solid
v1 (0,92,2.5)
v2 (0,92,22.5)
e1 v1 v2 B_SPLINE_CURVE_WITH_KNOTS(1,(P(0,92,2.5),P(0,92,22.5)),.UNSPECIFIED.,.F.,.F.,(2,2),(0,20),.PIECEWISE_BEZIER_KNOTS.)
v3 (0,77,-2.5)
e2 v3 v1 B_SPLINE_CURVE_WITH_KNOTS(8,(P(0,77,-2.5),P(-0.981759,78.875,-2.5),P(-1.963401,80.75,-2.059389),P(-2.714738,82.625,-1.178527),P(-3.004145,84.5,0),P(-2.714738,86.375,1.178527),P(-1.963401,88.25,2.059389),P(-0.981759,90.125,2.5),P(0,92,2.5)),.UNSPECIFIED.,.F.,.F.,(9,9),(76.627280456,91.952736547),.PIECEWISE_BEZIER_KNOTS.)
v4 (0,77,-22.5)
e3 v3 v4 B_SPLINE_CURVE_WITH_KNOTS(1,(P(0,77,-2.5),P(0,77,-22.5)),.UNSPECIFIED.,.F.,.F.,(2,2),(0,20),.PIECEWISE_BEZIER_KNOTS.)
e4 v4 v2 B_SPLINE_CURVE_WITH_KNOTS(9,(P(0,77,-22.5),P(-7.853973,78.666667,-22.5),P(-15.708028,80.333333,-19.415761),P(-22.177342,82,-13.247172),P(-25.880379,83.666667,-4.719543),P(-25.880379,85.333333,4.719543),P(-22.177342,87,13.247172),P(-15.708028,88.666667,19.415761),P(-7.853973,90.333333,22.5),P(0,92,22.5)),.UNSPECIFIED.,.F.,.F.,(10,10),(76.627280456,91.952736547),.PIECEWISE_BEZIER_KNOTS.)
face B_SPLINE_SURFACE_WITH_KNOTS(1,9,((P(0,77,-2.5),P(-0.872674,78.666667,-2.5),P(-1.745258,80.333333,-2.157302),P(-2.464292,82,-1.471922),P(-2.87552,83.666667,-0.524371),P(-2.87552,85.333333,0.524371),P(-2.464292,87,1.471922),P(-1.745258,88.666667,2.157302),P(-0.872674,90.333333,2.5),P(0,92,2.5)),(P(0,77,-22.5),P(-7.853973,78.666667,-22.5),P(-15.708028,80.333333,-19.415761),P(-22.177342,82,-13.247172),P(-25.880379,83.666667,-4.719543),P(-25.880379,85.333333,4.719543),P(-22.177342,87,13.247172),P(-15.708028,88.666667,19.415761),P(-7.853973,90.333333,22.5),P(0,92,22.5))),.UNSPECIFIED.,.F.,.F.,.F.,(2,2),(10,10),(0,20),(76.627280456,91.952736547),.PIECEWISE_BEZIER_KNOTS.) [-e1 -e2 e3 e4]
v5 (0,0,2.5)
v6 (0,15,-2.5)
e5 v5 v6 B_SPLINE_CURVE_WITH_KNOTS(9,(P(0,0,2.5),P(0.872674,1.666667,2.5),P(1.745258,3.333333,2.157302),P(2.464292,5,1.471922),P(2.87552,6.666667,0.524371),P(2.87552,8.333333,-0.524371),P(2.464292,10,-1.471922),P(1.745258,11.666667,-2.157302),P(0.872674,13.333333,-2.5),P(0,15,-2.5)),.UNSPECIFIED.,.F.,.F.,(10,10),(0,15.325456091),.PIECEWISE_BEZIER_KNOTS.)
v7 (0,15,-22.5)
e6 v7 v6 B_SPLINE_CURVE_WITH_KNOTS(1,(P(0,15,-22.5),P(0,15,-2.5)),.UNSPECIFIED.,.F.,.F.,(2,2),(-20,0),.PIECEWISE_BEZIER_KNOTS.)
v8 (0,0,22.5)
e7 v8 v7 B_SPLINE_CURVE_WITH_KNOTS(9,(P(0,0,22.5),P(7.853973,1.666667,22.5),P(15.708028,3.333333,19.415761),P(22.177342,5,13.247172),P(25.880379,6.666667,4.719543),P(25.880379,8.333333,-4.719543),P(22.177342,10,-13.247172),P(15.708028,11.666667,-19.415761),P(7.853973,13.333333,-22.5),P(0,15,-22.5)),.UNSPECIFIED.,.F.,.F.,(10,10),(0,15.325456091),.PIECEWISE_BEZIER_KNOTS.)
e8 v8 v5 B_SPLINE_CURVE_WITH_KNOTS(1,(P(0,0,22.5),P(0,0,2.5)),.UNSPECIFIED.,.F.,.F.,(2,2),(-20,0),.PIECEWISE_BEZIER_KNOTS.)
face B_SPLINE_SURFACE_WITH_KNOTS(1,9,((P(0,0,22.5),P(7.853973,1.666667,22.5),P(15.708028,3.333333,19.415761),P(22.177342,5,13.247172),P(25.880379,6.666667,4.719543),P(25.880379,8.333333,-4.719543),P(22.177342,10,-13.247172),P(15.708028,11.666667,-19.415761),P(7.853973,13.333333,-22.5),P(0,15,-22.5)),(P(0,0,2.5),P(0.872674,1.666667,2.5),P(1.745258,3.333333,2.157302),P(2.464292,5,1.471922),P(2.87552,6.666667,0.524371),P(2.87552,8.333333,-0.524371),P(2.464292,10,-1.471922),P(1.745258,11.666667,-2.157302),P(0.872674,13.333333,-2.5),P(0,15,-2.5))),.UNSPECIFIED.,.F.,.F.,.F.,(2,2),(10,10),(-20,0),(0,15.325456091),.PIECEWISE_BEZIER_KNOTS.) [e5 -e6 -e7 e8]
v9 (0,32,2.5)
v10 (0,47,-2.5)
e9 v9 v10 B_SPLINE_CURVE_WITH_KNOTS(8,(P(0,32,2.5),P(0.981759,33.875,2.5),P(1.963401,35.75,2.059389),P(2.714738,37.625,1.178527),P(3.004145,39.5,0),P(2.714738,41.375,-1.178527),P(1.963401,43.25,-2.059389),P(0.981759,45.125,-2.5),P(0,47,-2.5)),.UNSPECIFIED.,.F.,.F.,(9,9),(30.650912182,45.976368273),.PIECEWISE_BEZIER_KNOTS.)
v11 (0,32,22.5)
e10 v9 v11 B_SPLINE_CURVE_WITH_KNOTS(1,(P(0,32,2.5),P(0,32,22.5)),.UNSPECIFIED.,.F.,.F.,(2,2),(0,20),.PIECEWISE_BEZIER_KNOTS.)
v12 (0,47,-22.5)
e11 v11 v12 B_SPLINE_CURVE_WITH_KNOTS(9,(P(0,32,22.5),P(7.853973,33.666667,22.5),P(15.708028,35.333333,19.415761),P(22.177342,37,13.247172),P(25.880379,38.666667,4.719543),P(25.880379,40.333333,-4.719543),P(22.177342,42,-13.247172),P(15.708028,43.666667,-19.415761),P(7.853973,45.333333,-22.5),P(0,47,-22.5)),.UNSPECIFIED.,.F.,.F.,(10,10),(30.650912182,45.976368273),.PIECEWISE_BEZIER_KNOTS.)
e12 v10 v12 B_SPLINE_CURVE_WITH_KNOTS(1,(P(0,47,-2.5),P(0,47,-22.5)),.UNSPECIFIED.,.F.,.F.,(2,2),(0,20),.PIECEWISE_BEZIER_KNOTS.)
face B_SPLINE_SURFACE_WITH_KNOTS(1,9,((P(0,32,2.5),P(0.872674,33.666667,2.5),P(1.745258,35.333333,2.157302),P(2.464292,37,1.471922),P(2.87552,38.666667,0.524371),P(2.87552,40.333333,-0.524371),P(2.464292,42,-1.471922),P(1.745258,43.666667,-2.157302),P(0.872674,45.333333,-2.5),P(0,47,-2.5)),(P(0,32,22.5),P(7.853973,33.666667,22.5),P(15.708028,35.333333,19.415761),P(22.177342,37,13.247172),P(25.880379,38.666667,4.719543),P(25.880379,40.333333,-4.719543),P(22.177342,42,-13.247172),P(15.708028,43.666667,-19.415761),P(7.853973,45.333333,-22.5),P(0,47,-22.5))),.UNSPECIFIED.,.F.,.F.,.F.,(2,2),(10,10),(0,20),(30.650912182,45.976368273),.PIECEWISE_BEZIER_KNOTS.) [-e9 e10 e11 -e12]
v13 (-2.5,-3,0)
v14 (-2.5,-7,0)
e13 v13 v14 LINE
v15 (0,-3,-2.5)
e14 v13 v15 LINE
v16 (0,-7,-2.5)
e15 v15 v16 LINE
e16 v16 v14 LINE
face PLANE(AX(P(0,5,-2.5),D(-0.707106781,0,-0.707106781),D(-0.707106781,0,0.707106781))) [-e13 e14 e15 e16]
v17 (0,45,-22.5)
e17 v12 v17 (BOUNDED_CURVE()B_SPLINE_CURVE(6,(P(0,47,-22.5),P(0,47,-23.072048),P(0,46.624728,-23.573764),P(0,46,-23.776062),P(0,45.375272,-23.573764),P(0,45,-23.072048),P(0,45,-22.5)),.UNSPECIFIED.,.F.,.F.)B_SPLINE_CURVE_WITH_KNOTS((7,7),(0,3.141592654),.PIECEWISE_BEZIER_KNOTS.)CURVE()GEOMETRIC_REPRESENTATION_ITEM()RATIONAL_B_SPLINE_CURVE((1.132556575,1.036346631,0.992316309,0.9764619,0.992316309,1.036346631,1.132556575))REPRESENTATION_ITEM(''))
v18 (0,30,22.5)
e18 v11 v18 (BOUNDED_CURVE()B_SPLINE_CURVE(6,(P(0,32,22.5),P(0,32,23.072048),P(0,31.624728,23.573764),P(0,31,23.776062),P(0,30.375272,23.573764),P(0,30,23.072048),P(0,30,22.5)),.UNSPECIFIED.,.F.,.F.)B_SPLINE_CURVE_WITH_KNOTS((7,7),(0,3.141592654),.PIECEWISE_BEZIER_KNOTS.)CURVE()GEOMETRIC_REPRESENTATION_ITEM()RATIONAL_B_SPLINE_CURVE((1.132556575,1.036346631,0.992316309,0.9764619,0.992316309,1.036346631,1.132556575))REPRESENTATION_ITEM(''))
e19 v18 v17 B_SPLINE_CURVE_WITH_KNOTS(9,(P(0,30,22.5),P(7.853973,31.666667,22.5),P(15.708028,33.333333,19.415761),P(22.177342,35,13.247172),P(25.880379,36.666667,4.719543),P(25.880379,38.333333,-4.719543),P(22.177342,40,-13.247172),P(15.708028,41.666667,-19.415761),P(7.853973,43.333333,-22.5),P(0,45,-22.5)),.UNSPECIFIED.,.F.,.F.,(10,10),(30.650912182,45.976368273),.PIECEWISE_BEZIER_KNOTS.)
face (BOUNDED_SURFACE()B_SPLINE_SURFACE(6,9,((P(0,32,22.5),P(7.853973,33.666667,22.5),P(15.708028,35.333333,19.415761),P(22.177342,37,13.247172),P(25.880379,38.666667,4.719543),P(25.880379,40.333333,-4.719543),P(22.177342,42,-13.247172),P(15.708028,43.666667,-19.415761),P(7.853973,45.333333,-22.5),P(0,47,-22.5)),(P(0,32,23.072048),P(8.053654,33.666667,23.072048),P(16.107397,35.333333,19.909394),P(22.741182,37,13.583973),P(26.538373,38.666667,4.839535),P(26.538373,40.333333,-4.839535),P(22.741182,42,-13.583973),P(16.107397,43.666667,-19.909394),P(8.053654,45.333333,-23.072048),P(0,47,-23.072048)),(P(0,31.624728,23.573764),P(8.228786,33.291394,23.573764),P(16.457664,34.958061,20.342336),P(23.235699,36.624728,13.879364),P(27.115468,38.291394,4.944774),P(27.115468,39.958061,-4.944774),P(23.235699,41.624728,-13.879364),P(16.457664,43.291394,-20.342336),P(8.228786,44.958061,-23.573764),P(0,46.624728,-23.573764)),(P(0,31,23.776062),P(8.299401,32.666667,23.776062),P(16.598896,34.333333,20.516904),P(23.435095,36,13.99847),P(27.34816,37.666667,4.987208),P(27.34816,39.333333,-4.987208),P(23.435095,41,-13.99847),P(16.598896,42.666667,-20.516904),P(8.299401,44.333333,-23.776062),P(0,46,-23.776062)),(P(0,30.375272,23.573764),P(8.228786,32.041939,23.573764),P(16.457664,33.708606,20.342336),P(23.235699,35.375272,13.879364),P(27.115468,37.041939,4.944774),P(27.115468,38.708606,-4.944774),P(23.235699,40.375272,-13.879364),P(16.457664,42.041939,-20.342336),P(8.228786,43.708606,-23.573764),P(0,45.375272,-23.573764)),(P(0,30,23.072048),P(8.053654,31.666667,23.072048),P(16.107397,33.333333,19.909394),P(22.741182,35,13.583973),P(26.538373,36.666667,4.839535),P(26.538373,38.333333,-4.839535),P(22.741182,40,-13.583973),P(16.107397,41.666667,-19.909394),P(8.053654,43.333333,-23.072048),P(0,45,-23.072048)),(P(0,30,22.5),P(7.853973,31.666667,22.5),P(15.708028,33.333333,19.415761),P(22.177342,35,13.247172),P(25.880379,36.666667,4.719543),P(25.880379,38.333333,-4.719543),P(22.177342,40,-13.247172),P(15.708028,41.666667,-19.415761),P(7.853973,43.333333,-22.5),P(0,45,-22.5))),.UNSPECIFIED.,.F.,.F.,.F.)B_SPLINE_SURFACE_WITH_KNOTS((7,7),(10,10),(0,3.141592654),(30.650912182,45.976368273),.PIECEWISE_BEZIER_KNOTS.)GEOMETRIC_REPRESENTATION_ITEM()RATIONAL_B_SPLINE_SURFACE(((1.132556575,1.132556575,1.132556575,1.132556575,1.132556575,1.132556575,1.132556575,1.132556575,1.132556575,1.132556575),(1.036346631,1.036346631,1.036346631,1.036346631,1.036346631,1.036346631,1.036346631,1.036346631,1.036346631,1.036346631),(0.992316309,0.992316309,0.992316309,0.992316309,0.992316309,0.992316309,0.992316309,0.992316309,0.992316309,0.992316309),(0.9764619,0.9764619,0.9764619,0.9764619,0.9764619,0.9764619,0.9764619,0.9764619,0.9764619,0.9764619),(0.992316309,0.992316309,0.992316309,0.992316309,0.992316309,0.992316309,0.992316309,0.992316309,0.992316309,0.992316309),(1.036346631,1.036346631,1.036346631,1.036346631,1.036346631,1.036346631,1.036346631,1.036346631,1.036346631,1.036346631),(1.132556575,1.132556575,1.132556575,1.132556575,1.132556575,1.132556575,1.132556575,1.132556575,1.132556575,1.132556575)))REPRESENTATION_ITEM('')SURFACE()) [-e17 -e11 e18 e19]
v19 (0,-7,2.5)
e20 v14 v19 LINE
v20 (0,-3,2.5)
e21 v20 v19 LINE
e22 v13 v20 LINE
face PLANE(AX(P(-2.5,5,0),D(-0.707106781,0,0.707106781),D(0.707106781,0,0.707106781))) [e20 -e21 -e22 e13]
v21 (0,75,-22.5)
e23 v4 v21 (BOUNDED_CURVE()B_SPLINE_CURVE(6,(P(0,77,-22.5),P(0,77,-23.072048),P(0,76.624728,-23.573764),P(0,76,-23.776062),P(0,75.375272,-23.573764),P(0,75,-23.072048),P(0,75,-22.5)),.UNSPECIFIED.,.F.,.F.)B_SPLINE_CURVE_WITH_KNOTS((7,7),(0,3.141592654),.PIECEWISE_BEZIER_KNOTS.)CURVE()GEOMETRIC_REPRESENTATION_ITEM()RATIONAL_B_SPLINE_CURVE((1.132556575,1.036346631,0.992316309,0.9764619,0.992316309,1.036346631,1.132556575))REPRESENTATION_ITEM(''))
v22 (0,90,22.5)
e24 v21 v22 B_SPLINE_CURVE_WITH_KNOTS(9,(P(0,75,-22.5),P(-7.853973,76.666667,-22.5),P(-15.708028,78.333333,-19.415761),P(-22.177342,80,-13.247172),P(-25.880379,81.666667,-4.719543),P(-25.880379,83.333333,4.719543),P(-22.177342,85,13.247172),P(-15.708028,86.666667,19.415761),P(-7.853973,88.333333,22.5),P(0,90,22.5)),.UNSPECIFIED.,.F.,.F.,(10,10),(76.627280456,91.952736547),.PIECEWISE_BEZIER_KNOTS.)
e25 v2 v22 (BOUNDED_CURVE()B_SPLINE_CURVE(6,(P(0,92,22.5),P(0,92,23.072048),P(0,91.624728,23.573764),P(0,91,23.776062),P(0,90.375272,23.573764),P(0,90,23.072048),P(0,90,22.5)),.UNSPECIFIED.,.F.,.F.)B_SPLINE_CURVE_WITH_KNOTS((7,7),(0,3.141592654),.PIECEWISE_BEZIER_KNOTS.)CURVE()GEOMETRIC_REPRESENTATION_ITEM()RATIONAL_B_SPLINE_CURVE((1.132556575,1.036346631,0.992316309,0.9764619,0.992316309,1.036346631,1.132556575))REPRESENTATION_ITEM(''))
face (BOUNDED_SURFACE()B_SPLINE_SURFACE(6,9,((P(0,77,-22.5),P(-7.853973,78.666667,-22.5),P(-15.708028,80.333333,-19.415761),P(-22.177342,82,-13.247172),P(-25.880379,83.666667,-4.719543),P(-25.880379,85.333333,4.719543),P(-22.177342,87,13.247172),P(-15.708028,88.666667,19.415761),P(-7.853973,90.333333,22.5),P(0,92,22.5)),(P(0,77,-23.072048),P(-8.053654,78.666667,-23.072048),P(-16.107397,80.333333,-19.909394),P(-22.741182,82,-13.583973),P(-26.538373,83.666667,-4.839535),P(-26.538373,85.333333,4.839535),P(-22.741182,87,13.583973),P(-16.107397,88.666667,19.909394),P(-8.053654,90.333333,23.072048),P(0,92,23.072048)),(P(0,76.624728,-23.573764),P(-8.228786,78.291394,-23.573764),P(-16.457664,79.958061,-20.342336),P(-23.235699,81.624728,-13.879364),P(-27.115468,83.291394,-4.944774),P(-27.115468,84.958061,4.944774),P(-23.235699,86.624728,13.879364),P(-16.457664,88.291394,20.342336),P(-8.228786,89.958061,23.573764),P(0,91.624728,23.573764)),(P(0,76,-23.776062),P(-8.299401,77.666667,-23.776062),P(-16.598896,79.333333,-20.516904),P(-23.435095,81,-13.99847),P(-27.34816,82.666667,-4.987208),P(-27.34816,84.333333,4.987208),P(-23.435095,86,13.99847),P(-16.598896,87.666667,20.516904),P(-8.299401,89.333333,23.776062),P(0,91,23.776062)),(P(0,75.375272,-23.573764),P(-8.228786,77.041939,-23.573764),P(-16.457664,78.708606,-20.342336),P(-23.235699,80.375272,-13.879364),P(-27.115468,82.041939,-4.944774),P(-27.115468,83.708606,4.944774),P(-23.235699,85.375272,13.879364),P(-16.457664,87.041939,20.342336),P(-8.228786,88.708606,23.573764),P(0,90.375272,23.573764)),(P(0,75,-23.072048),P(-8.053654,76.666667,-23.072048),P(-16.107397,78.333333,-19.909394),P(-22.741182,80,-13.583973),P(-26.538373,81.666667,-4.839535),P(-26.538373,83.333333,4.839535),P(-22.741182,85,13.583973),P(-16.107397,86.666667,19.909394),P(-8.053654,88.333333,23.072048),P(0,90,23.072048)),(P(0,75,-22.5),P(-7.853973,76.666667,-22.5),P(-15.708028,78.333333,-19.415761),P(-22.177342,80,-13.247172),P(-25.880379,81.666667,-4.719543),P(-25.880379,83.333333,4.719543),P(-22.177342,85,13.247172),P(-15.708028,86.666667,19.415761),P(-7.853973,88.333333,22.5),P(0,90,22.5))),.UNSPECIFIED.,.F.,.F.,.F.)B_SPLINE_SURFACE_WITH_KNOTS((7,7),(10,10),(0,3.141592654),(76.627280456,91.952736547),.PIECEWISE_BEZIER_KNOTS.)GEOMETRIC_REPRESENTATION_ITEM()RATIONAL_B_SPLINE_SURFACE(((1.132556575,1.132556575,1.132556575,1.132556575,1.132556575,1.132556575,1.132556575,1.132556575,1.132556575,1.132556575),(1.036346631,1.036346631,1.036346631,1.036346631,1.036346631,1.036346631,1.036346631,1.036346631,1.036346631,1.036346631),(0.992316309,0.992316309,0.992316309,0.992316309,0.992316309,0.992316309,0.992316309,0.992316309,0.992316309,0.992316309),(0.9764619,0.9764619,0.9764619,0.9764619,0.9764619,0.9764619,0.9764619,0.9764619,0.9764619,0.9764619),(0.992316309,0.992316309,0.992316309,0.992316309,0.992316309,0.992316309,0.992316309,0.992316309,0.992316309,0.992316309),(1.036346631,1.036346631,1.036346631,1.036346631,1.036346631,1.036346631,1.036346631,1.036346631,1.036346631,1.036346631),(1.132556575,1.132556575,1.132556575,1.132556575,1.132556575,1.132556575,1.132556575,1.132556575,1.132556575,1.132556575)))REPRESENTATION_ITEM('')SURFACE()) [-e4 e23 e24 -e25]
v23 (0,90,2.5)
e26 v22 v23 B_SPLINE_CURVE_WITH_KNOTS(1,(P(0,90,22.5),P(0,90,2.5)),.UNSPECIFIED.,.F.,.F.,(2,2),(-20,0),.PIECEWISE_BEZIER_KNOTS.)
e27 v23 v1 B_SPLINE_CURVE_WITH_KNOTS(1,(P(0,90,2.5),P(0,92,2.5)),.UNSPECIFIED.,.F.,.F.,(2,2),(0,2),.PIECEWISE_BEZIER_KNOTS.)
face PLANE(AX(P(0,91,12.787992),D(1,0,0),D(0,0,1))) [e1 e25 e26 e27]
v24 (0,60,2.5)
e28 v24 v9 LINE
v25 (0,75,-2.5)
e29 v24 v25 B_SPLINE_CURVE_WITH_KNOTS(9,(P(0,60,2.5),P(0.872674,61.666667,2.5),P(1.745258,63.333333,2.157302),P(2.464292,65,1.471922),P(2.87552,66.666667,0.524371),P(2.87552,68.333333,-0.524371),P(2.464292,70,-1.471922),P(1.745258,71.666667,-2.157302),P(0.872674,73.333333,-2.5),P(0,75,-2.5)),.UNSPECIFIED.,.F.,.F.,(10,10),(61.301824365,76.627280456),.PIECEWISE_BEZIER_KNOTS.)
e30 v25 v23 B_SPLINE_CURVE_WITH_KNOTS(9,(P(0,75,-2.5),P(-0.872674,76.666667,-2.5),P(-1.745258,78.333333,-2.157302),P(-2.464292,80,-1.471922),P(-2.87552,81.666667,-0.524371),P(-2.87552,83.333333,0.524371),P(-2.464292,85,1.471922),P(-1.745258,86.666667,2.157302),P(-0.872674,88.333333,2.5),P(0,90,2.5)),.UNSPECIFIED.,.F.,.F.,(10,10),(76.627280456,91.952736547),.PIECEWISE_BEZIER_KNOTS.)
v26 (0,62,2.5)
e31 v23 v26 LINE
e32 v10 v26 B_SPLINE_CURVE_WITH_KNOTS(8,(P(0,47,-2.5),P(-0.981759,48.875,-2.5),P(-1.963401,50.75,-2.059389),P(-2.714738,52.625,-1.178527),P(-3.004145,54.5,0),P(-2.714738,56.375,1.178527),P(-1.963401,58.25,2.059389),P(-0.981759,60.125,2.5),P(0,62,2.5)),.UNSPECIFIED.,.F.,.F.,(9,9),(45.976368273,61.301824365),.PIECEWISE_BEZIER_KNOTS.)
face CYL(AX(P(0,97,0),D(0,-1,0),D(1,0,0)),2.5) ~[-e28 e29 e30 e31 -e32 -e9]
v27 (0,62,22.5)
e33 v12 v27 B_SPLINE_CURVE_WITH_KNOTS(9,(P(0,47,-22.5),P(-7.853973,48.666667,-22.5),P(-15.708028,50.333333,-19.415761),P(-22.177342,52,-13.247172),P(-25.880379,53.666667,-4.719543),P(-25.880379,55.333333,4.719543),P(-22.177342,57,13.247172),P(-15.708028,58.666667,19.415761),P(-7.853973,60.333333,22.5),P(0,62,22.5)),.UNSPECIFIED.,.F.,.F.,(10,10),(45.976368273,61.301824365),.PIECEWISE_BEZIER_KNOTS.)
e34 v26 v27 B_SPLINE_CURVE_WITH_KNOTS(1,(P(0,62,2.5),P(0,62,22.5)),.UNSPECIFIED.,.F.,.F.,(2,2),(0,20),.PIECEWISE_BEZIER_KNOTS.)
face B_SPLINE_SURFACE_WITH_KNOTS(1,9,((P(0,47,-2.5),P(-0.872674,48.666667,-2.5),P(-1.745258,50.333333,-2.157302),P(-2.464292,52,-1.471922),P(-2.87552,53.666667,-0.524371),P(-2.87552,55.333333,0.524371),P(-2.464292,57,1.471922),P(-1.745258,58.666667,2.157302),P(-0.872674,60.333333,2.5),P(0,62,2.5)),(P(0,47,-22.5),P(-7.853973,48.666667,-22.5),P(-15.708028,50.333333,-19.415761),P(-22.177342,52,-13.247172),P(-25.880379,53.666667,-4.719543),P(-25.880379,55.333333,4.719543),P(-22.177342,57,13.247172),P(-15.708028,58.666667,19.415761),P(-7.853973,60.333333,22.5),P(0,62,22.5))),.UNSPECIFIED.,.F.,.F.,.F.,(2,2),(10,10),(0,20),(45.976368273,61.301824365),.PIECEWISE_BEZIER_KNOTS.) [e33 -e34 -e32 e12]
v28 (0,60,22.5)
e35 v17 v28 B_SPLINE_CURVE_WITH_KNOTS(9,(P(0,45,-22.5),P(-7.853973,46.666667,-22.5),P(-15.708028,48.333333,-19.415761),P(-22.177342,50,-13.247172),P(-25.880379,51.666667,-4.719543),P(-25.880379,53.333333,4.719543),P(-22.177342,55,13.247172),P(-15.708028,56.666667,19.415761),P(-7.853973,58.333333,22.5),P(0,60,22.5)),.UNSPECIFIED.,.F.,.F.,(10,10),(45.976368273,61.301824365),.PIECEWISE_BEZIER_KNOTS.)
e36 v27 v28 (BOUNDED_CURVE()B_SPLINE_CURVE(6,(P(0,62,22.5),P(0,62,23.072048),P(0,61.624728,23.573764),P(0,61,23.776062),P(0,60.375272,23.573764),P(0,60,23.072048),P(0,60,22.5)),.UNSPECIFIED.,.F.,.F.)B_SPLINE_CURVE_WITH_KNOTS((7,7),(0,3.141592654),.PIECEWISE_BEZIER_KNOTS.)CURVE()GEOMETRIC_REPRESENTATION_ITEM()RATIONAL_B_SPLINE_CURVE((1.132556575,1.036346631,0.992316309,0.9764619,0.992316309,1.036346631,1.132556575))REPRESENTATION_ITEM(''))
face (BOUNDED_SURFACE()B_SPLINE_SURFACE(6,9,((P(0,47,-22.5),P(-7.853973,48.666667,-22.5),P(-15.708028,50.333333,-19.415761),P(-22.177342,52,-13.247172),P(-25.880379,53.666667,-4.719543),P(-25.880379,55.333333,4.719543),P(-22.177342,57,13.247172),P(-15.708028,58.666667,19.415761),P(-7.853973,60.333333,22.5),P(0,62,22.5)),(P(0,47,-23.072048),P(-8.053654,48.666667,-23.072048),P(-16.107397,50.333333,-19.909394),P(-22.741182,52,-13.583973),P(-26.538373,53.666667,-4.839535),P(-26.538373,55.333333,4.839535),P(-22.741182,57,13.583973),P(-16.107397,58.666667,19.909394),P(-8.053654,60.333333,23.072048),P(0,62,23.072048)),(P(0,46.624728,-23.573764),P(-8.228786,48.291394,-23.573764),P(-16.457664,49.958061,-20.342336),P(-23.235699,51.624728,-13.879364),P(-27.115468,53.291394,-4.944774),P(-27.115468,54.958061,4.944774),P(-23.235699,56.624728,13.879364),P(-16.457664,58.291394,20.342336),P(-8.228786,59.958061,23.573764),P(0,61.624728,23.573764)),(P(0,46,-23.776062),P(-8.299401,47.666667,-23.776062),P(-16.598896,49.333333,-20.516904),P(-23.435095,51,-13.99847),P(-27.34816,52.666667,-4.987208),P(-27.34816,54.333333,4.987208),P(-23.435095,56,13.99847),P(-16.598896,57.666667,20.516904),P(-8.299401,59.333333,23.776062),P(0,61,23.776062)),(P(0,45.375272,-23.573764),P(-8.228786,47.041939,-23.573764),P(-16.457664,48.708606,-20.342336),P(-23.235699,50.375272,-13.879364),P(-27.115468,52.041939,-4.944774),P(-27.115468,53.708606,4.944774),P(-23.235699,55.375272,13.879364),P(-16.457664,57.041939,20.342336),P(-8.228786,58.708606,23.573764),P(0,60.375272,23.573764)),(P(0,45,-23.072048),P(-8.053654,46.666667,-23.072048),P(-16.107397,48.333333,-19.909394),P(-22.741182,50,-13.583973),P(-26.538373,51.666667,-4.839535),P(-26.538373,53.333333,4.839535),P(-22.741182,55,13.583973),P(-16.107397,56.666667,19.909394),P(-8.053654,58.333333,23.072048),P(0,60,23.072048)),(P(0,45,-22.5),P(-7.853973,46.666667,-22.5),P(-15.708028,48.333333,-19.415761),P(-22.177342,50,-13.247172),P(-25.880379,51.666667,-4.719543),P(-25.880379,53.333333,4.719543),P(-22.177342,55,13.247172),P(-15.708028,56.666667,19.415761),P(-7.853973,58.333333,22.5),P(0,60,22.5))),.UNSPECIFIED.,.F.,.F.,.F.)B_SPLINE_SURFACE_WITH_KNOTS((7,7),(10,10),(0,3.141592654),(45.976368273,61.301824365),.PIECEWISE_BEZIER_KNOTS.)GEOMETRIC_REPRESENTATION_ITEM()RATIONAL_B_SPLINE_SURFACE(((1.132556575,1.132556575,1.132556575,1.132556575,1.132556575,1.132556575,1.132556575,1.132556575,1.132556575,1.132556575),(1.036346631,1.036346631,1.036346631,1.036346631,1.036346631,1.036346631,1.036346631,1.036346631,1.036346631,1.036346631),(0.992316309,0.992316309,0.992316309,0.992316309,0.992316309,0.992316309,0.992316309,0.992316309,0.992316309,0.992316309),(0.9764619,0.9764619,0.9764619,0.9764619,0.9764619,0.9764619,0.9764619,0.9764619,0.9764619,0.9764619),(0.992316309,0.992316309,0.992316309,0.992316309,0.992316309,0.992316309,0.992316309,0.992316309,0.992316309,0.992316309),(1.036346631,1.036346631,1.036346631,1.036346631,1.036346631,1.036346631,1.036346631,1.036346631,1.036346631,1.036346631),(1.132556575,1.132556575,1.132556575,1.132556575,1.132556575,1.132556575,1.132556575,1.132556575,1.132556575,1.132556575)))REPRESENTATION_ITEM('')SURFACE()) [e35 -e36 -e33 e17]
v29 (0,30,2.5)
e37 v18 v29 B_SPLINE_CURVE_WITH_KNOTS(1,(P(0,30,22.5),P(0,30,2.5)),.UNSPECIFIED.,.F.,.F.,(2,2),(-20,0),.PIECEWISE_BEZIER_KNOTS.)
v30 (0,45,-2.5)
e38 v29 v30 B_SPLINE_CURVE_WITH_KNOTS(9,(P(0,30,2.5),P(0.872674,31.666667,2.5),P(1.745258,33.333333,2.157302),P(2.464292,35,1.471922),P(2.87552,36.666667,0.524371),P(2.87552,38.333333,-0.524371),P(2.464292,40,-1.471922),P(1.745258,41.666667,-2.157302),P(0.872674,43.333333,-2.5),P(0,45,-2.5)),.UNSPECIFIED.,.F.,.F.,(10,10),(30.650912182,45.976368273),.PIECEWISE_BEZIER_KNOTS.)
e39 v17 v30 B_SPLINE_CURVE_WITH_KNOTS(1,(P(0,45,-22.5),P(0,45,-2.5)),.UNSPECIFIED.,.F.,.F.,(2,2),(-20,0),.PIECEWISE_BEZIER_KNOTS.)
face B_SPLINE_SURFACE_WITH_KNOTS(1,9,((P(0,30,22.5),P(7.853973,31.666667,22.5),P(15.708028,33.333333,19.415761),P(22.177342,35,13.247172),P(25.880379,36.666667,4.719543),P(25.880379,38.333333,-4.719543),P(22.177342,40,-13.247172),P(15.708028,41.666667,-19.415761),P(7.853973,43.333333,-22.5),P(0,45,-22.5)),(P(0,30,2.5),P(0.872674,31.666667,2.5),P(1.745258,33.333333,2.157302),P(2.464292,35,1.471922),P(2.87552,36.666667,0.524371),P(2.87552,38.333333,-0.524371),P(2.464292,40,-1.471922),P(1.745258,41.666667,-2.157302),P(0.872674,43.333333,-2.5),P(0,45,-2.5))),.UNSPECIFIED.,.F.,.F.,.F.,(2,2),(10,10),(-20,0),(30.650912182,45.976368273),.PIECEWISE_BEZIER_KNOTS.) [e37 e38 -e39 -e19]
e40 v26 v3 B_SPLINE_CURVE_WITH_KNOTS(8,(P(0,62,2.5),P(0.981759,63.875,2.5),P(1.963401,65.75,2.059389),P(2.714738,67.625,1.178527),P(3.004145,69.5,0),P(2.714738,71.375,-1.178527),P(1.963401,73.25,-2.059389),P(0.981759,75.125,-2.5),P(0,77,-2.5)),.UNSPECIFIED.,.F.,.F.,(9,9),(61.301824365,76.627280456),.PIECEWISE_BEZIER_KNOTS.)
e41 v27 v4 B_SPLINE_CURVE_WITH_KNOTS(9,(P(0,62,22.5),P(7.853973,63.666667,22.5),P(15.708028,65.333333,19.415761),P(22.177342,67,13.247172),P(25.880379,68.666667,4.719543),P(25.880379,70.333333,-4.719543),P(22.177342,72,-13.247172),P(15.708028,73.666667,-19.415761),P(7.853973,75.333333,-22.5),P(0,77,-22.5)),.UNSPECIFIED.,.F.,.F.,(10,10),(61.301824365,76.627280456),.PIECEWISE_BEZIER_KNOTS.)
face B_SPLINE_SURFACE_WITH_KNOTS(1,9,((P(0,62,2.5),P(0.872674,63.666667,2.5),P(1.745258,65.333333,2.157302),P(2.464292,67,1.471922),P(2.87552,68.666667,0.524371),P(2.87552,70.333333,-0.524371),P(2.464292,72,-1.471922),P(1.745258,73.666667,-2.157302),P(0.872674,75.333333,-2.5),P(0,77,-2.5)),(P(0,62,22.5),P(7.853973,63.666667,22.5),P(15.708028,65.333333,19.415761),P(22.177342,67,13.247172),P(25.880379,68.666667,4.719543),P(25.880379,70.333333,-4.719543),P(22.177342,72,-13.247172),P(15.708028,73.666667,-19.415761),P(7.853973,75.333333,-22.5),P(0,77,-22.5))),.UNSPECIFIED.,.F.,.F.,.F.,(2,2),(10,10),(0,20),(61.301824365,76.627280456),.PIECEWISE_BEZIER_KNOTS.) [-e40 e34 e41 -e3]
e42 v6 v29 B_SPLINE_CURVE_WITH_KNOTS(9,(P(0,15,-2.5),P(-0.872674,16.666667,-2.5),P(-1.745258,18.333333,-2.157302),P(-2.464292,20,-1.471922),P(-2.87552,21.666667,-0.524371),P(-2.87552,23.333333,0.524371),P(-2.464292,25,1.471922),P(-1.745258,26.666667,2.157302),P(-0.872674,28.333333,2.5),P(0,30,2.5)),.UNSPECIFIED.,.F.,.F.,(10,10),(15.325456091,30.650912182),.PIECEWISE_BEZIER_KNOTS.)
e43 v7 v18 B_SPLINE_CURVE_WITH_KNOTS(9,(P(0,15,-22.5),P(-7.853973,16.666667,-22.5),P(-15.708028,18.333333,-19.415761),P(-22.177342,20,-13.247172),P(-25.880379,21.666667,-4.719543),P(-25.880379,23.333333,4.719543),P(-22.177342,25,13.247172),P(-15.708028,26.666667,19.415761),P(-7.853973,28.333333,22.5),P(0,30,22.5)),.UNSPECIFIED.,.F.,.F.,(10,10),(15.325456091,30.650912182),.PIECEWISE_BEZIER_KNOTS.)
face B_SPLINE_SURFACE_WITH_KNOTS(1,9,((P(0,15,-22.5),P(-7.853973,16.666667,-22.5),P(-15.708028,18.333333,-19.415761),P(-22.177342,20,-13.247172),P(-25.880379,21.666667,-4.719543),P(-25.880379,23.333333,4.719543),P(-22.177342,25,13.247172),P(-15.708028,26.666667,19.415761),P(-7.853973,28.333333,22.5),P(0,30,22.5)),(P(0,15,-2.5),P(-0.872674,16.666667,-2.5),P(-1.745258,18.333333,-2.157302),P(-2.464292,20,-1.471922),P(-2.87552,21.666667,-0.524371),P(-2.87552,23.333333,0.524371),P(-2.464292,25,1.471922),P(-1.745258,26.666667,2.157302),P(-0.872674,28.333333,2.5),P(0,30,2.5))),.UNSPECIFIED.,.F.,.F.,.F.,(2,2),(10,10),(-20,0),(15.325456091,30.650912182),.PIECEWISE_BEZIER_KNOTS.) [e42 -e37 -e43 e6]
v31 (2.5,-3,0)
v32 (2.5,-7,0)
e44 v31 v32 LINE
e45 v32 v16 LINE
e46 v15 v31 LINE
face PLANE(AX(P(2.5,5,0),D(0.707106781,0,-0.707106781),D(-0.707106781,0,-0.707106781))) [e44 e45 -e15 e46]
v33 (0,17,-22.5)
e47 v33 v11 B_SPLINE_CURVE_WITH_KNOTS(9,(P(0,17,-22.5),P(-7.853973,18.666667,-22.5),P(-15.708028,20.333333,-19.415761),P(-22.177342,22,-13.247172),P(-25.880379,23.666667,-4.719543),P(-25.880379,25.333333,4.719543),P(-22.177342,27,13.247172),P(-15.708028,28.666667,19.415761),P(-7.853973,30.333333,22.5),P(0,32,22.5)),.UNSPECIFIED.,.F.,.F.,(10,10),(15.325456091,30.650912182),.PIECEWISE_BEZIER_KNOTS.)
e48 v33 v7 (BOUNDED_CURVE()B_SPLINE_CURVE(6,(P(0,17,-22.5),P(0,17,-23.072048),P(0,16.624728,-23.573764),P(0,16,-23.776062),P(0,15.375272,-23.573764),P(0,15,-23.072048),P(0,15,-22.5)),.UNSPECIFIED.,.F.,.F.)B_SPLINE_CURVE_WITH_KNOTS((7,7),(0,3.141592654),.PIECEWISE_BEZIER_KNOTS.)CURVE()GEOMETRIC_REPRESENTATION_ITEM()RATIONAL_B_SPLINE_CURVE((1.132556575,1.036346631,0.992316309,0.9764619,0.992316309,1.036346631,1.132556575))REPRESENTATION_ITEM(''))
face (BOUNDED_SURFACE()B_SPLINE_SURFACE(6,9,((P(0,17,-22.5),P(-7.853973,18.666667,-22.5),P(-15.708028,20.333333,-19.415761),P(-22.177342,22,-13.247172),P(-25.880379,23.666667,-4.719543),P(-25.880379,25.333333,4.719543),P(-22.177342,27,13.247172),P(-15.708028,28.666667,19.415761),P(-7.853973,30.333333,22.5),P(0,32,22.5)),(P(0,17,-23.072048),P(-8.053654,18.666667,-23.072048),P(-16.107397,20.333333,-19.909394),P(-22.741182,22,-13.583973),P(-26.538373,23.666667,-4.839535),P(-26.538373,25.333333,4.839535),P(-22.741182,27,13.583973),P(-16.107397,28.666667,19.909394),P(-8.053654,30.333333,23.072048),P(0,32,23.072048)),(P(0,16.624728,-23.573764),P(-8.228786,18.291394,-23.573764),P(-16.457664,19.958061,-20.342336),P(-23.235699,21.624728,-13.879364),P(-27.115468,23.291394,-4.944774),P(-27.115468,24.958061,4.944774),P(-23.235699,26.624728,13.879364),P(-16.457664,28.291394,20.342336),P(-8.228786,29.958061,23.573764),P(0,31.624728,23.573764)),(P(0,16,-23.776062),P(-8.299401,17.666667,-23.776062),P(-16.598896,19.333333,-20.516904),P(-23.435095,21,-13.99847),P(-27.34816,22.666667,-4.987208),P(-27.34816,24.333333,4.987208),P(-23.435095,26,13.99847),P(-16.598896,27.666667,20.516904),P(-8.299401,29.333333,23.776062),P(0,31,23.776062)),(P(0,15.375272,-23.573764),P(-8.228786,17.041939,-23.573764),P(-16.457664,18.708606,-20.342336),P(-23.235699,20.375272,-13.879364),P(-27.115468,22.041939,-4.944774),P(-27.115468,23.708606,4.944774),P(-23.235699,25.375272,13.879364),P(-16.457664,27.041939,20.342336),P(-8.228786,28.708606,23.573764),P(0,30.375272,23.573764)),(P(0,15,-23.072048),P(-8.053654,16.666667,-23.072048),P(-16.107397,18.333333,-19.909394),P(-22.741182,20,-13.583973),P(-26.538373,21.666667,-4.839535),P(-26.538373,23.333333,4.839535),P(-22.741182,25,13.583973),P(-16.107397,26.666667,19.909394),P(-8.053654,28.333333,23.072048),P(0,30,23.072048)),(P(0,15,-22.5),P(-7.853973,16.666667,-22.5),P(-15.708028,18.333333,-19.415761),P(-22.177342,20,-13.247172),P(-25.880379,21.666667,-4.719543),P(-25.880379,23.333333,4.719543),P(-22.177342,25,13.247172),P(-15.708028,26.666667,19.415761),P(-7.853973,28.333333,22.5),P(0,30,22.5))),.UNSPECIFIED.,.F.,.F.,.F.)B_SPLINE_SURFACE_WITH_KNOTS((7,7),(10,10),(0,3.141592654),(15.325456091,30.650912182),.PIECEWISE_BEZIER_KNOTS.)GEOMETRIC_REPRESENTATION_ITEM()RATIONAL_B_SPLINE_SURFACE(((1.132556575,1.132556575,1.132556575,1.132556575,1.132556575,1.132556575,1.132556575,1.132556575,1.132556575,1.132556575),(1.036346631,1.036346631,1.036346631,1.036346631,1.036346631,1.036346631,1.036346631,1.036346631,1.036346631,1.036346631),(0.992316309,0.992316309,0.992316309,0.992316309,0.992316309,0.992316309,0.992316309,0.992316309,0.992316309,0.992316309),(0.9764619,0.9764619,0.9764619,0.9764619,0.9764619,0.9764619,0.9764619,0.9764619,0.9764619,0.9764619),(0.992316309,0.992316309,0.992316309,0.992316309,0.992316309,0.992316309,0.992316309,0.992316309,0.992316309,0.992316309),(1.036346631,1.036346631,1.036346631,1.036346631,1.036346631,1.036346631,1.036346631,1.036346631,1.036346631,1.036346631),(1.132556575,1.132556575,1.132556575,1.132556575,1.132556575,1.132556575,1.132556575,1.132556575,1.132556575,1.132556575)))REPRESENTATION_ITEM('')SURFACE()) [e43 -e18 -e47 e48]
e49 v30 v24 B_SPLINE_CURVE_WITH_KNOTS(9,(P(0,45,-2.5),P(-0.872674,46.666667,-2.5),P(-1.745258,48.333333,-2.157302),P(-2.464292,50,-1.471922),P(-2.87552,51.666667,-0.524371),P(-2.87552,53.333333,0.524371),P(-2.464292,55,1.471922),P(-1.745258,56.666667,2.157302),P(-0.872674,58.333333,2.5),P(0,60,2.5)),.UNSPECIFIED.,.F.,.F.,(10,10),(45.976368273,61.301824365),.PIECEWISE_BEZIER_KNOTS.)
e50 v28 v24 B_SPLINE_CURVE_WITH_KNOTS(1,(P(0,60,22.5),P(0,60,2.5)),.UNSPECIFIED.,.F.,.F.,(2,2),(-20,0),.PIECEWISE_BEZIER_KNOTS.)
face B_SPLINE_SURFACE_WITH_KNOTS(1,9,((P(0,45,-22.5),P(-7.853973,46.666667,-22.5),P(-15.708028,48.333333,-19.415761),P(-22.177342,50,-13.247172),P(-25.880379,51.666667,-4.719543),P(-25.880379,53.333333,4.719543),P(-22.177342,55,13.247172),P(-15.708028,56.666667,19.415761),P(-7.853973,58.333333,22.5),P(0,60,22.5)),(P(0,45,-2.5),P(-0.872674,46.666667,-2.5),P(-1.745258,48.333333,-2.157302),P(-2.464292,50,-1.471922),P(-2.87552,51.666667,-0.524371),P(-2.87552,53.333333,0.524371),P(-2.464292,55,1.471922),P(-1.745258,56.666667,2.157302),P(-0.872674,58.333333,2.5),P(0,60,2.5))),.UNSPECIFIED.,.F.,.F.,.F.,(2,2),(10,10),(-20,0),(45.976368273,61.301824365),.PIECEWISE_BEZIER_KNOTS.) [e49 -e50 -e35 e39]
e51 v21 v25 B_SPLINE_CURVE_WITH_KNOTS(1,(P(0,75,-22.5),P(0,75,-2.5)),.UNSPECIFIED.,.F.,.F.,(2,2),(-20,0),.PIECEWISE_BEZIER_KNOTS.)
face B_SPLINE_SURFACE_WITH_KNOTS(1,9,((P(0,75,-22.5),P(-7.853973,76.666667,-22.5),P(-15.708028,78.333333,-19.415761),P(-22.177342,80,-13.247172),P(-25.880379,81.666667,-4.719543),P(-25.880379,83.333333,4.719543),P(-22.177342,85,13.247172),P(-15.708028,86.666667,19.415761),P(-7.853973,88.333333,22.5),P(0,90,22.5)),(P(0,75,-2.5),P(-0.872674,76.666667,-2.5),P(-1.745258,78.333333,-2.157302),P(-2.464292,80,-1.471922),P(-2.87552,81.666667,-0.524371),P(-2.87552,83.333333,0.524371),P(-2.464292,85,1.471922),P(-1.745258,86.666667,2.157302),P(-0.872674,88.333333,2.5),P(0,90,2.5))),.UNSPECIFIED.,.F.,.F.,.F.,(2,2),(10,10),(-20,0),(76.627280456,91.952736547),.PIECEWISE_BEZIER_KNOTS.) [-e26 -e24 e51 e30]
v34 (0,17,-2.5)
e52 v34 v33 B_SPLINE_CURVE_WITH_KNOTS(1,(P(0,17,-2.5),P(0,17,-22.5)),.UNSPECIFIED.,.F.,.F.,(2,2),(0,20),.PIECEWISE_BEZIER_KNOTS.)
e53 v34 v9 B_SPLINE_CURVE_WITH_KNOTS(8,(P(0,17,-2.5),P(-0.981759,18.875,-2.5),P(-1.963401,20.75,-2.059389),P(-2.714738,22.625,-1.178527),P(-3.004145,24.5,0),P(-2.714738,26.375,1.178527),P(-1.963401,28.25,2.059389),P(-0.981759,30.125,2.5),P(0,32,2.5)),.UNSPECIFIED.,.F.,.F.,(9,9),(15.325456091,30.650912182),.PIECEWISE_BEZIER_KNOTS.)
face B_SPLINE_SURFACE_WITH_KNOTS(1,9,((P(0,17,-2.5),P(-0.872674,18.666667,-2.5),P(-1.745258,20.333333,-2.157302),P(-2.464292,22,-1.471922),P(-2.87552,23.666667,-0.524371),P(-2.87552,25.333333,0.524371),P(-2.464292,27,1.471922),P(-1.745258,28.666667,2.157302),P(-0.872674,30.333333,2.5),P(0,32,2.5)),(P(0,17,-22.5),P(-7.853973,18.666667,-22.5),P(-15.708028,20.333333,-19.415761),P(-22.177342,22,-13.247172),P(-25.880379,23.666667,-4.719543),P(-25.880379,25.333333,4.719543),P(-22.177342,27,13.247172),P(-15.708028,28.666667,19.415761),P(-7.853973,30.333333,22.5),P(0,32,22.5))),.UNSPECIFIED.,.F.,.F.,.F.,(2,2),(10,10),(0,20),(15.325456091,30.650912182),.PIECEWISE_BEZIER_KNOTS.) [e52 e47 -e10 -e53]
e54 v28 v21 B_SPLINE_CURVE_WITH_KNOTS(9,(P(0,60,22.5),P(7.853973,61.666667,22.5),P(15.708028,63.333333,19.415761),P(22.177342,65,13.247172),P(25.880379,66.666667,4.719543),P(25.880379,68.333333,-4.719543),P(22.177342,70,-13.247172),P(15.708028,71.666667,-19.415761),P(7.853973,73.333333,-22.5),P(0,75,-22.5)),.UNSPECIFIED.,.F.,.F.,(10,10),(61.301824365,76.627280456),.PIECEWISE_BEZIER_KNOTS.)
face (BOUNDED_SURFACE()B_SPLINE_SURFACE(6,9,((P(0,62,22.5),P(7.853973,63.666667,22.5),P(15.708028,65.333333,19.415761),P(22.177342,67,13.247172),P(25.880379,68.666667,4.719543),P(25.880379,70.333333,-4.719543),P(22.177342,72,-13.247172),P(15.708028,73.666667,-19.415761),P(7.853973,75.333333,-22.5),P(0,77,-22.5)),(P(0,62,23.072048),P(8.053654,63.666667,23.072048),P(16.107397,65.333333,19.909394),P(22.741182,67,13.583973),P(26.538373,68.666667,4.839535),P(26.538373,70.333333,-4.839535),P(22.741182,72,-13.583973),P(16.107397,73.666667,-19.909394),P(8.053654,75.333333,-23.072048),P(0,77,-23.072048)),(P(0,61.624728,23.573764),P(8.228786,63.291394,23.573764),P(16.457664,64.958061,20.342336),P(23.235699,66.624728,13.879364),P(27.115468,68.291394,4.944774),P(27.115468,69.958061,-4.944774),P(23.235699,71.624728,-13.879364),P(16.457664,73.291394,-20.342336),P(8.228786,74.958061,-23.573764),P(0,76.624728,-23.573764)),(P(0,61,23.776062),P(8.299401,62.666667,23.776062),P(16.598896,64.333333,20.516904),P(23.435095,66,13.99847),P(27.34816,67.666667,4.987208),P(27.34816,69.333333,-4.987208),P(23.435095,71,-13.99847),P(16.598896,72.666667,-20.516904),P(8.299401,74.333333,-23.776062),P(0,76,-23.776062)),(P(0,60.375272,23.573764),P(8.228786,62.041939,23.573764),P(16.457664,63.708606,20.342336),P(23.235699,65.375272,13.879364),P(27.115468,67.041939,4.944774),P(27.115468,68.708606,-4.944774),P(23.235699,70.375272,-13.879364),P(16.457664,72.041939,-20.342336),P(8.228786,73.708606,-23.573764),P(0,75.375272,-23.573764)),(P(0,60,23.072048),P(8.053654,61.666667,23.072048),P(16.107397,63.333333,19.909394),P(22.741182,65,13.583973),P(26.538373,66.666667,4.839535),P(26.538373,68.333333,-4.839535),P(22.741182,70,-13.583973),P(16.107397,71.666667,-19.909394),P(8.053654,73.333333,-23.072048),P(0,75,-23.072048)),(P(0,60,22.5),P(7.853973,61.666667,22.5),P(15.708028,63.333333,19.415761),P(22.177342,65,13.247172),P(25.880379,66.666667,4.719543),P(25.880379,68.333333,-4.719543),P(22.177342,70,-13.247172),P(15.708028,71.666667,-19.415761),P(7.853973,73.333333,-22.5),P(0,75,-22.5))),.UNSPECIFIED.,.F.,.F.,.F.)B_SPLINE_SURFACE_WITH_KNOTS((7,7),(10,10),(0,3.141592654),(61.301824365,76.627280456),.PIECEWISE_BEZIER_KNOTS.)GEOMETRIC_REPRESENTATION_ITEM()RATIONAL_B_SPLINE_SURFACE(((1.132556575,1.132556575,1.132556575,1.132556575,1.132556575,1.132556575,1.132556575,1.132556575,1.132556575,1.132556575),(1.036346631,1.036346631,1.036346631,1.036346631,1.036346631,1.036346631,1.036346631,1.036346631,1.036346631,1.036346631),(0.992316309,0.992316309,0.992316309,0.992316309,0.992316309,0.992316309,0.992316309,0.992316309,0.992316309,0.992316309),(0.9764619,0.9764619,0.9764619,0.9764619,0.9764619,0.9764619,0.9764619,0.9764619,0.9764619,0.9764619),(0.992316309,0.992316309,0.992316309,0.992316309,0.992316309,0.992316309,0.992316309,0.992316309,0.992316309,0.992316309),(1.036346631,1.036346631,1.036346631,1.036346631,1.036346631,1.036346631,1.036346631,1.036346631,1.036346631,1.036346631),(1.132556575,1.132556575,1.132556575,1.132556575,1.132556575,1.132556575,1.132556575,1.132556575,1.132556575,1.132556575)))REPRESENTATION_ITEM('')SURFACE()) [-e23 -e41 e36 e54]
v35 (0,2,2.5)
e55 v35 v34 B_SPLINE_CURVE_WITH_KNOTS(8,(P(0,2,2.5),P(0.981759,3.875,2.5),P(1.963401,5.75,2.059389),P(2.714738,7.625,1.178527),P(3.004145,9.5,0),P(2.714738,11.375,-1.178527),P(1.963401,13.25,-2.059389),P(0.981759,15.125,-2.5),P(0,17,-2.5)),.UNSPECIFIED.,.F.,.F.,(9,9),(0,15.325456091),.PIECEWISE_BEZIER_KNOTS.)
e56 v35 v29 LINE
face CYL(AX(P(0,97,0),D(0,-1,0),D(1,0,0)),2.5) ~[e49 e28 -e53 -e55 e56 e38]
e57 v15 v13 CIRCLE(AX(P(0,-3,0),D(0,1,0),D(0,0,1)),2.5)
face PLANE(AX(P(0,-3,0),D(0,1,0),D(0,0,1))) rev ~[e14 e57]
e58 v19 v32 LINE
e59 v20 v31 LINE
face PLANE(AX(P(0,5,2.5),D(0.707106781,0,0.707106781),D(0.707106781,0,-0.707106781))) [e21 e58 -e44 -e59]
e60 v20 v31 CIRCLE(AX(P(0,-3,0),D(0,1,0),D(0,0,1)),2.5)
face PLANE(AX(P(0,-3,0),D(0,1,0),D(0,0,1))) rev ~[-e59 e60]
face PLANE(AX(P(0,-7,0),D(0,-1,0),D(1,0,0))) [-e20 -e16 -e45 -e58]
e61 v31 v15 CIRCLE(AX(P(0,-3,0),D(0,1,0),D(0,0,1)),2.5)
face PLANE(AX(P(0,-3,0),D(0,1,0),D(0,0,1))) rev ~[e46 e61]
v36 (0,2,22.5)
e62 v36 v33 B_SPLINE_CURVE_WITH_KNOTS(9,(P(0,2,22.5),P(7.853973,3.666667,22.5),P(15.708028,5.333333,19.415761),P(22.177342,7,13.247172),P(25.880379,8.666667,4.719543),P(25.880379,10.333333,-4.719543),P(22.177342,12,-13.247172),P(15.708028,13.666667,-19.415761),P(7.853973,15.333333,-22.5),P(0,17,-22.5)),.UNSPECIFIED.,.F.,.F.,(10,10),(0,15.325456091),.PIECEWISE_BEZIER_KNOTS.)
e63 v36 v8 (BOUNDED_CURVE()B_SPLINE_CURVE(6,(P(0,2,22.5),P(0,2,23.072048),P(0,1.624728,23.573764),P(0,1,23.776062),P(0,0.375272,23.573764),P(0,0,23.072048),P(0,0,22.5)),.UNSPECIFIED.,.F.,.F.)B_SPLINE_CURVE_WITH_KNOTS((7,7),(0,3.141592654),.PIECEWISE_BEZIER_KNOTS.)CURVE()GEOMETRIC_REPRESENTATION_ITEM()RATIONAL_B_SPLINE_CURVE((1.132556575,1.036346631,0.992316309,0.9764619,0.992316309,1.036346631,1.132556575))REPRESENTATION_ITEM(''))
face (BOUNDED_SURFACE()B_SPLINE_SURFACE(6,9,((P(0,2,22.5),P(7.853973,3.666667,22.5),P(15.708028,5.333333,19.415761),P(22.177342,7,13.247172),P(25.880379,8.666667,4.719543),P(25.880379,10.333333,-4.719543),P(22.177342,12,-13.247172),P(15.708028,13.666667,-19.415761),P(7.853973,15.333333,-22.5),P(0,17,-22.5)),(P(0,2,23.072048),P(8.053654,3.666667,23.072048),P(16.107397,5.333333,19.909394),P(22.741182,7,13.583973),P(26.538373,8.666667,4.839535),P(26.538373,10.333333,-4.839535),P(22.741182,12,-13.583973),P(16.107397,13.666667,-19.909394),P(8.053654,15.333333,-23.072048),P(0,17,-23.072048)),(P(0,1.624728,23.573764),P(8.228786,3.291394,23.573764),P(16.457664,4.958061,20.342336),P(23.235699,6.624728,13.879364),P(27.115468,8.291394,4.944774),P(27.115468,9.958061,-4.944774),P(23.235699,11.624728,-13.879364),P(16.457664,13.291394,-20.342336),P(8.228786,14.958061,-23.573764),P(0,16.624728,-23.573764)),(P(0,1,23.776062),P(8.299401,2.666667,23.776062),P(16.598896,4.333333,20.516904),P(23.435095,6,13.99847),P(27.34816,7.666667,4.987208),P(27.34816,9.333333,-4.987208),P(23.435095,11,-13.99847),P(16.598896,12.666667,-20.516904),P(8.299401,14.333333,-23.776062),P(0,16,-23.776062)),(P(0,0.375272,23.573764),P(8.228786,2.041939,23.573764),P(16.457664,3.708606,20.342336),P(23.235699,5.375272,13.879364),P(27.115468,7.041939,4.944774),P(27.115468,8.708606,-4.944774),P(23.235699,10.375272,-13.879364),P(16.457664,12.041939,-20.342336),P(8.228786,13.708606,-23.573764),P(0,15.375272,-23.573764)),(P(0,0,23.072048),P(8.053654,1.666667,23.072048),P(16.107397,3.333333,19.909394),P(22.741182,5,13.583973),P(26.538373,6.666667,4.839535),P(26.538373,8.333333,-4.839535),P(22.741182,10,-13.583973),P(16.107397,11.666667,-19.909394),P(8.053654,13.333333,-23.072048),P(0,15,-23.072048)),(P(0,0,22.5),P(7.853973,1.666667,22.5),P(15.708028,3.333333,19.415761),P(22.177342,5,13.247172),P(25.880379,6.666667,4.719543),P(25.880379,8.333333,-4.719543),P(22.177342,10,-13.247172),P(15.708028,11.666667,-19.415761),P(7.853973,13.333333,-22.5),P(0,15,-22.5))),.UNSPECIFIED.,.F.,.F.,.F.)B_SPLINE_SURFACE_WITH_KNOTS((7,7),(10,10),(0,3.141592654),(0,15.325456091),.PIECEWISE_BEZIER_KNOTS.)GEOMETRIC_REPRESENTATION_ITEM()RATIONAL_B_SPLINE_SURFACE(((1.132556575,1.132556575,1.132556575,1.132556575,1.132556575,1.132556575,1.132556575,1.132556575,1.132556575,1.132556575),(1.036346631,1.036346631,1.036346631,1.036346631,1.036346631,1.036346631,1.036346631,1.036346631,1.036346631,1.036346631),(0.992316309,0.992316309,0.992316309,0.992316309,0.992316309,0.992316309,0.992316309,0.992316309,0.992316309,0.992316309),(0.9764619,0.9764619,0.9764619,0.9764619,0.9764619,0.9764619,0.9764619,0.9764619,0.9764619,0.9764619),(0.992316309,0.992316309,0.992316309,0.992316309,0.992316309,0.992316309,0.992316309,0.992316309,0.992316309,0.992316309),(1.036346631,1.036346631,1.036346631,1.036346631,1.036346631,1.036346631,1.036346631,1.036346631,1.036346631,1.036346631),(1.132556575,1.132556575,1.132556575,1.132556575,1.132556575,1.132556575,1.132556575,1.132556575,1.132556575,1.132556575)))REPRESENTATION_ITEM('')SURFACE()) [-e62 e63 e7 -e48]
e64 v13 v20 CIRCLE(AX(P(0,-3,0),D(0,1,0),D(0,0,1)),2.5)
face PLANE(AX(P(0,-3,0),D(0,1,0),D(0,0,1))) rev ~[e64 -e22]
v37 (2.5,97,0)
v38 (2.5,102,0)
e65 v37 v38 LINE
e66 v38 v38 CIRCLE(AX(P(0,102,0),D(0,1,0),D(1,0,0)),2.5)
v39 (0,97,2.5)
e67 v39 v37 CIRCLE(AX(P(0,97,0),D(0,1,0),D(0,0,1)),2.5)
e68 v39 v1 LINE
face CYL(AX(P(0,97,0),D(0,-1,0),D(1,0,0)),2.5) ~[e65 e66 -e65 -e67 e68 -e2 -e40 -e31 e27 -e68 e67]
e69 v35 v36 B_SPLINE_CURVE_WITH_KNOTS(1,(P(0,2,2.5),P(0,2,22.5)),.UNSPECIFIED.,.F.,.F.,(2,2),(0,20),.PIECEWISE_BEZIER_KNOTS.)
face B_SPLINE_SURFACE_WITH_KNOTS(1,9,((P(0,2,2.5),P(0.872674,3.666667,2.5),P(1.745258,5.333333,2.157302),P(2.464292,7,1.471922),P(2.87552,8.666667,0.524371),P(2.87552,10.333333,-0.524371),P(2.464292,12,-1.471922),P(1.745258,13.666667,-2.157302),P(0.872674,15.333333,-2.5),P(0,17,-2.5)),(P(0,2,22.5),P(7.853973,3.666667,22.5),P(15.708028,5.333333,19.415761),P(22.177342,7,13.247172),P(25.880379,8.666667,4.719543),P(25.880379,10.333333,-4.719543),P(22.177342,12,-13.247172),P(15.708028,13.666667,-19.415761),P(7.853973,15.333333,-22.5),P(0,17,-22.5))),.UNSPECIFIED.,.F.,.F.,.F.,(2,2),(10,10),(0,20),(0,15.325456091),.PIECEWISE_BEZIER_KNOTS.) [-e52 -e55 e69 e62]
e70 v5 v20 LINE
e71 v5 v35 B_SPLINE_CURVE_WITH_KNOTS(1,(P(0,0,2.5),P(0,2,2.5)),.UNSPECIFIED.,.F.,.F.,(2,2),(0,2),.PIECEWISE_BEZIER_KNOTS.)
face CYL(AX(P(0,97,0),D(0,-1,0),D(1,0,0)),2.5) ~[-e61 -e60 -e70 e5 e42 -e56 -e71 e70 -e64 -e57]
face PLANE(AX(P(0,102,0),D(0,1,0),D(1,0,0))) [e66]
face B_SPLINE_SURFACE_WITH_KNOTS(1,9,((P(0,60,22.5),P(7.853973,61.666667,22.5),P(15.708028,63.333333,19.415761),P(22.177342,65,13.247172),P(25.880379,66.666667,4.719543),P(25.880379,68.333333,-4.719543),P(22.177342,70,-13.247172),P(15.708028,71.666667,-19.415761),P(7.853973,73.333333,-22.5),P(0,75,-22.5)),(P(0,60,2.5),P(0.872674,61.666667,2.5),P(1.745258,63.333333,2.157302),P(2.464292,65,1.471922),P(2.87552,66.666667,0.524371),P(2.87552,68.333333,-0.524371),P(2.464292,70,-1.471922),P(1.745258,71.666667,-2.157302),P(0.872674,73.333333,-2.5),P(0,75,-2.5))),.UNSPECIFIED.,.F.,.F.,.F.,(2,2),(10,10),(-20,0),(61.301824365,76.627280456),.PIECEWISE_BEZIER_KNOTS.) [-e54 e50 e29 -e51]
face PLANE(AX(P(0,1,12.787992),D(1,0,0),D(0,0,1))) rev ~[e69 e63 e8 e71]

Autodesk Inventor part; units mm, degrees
ref_plane "YZ Plane" through (0, 0, 0) normal (1, 0, 0) x (0, 1, 0)
ref_plane "XZ Plane" through (0, 0, 0) normal (0, 1, 0) x (-1, 0, 0)
ref_plane "XY Plane" through (0, 0, 0) normal (0, 0, 1) x (1, 0, 0)
sketch "Эскиз1" plane through (0, 0, 0) normal (1, 0, 0) x (0, 1, 0)
  line L0 (0, 2.5) -> (0, 22.5)
  line L1 (0, 2.5) -> (2, 2.5)
  line L2 (2, 2.5) -> (2, 22.5)
  arc A0 (2, 22.5) -> (0, 22.5) centre (1, 22.5) ccw
  line L3 (-1.9367, 0) -> (5.1863, 0) construction
  point P0 (0, 0)
  dimension "d3" = 1
coil "Пружина1" sketch "Эскиз1" operation add axis through (0, -1.9367, 0) along (0, 1, 0) pitch 30 turns 3 hand right
sketch "Эскиз2" plane through (0, 0, 0) normal (1, 0, 0) x (0, 1, 0)
  line L0 (-3, 0) -> (97, 0)
  line L1 (97, 0) -> (97, 2.5)
  line L2 (97, 2.5) -> (-3, 2.5)
  line L3 (-3, 2.5) -> (-3, 0)
  point P0 (0, 0)
revolve "Вращение1" add sketch "Эскиз2" angle 360 about axis through (0, -3, 0) along (0, 1, 0)
sketch "Эскиз4" plane through (0, -3, 0) normal (0, -1, 0) x (1, 0, 0)
  circle A0 centre (0, 0) radius 2.5 projected
  line L0 (-2.5, 0) -> (0, -2.5)
  line L1 (0, -2.5) -> (2.5, 0)
  line L2 (-2.5, 0) -> (0, 2.5)
  line L3 (0, 2.5) -> (2.5, 0)
extrude "Выдавливание1" cut sketch "Эскиз4" against normal blind 8 contours L1 L0 L2 L3
sketch "Эскиз5" plane through (0, 5, 0) normal (0, -1, 0) x (1, 0, 0)
  line L0 (0, -2.5) -> (-2.5, 0) projected
  line L1 (2.5, 0) -> (0, -2.5) projected
  line L2 (0, 2.5) -> (2.5, 0) projected
  line L3 (-2.5, 0) -> (0, 2.5) projected
  point P0 (0, 0)
extrude "Выдавливание2" add sketch "Эскиз5" along normal blind 12
sketch "Эскиз6" plane through (0, 97, 0) normal (0, 1, 0) x (1, 0, 0)
  circle A0 centre (0, 0) radius 2.5 projected
extrude "Выдавливание3" add sketch "Эскиз6" along normal blind 5
properties part number "Шнек"
